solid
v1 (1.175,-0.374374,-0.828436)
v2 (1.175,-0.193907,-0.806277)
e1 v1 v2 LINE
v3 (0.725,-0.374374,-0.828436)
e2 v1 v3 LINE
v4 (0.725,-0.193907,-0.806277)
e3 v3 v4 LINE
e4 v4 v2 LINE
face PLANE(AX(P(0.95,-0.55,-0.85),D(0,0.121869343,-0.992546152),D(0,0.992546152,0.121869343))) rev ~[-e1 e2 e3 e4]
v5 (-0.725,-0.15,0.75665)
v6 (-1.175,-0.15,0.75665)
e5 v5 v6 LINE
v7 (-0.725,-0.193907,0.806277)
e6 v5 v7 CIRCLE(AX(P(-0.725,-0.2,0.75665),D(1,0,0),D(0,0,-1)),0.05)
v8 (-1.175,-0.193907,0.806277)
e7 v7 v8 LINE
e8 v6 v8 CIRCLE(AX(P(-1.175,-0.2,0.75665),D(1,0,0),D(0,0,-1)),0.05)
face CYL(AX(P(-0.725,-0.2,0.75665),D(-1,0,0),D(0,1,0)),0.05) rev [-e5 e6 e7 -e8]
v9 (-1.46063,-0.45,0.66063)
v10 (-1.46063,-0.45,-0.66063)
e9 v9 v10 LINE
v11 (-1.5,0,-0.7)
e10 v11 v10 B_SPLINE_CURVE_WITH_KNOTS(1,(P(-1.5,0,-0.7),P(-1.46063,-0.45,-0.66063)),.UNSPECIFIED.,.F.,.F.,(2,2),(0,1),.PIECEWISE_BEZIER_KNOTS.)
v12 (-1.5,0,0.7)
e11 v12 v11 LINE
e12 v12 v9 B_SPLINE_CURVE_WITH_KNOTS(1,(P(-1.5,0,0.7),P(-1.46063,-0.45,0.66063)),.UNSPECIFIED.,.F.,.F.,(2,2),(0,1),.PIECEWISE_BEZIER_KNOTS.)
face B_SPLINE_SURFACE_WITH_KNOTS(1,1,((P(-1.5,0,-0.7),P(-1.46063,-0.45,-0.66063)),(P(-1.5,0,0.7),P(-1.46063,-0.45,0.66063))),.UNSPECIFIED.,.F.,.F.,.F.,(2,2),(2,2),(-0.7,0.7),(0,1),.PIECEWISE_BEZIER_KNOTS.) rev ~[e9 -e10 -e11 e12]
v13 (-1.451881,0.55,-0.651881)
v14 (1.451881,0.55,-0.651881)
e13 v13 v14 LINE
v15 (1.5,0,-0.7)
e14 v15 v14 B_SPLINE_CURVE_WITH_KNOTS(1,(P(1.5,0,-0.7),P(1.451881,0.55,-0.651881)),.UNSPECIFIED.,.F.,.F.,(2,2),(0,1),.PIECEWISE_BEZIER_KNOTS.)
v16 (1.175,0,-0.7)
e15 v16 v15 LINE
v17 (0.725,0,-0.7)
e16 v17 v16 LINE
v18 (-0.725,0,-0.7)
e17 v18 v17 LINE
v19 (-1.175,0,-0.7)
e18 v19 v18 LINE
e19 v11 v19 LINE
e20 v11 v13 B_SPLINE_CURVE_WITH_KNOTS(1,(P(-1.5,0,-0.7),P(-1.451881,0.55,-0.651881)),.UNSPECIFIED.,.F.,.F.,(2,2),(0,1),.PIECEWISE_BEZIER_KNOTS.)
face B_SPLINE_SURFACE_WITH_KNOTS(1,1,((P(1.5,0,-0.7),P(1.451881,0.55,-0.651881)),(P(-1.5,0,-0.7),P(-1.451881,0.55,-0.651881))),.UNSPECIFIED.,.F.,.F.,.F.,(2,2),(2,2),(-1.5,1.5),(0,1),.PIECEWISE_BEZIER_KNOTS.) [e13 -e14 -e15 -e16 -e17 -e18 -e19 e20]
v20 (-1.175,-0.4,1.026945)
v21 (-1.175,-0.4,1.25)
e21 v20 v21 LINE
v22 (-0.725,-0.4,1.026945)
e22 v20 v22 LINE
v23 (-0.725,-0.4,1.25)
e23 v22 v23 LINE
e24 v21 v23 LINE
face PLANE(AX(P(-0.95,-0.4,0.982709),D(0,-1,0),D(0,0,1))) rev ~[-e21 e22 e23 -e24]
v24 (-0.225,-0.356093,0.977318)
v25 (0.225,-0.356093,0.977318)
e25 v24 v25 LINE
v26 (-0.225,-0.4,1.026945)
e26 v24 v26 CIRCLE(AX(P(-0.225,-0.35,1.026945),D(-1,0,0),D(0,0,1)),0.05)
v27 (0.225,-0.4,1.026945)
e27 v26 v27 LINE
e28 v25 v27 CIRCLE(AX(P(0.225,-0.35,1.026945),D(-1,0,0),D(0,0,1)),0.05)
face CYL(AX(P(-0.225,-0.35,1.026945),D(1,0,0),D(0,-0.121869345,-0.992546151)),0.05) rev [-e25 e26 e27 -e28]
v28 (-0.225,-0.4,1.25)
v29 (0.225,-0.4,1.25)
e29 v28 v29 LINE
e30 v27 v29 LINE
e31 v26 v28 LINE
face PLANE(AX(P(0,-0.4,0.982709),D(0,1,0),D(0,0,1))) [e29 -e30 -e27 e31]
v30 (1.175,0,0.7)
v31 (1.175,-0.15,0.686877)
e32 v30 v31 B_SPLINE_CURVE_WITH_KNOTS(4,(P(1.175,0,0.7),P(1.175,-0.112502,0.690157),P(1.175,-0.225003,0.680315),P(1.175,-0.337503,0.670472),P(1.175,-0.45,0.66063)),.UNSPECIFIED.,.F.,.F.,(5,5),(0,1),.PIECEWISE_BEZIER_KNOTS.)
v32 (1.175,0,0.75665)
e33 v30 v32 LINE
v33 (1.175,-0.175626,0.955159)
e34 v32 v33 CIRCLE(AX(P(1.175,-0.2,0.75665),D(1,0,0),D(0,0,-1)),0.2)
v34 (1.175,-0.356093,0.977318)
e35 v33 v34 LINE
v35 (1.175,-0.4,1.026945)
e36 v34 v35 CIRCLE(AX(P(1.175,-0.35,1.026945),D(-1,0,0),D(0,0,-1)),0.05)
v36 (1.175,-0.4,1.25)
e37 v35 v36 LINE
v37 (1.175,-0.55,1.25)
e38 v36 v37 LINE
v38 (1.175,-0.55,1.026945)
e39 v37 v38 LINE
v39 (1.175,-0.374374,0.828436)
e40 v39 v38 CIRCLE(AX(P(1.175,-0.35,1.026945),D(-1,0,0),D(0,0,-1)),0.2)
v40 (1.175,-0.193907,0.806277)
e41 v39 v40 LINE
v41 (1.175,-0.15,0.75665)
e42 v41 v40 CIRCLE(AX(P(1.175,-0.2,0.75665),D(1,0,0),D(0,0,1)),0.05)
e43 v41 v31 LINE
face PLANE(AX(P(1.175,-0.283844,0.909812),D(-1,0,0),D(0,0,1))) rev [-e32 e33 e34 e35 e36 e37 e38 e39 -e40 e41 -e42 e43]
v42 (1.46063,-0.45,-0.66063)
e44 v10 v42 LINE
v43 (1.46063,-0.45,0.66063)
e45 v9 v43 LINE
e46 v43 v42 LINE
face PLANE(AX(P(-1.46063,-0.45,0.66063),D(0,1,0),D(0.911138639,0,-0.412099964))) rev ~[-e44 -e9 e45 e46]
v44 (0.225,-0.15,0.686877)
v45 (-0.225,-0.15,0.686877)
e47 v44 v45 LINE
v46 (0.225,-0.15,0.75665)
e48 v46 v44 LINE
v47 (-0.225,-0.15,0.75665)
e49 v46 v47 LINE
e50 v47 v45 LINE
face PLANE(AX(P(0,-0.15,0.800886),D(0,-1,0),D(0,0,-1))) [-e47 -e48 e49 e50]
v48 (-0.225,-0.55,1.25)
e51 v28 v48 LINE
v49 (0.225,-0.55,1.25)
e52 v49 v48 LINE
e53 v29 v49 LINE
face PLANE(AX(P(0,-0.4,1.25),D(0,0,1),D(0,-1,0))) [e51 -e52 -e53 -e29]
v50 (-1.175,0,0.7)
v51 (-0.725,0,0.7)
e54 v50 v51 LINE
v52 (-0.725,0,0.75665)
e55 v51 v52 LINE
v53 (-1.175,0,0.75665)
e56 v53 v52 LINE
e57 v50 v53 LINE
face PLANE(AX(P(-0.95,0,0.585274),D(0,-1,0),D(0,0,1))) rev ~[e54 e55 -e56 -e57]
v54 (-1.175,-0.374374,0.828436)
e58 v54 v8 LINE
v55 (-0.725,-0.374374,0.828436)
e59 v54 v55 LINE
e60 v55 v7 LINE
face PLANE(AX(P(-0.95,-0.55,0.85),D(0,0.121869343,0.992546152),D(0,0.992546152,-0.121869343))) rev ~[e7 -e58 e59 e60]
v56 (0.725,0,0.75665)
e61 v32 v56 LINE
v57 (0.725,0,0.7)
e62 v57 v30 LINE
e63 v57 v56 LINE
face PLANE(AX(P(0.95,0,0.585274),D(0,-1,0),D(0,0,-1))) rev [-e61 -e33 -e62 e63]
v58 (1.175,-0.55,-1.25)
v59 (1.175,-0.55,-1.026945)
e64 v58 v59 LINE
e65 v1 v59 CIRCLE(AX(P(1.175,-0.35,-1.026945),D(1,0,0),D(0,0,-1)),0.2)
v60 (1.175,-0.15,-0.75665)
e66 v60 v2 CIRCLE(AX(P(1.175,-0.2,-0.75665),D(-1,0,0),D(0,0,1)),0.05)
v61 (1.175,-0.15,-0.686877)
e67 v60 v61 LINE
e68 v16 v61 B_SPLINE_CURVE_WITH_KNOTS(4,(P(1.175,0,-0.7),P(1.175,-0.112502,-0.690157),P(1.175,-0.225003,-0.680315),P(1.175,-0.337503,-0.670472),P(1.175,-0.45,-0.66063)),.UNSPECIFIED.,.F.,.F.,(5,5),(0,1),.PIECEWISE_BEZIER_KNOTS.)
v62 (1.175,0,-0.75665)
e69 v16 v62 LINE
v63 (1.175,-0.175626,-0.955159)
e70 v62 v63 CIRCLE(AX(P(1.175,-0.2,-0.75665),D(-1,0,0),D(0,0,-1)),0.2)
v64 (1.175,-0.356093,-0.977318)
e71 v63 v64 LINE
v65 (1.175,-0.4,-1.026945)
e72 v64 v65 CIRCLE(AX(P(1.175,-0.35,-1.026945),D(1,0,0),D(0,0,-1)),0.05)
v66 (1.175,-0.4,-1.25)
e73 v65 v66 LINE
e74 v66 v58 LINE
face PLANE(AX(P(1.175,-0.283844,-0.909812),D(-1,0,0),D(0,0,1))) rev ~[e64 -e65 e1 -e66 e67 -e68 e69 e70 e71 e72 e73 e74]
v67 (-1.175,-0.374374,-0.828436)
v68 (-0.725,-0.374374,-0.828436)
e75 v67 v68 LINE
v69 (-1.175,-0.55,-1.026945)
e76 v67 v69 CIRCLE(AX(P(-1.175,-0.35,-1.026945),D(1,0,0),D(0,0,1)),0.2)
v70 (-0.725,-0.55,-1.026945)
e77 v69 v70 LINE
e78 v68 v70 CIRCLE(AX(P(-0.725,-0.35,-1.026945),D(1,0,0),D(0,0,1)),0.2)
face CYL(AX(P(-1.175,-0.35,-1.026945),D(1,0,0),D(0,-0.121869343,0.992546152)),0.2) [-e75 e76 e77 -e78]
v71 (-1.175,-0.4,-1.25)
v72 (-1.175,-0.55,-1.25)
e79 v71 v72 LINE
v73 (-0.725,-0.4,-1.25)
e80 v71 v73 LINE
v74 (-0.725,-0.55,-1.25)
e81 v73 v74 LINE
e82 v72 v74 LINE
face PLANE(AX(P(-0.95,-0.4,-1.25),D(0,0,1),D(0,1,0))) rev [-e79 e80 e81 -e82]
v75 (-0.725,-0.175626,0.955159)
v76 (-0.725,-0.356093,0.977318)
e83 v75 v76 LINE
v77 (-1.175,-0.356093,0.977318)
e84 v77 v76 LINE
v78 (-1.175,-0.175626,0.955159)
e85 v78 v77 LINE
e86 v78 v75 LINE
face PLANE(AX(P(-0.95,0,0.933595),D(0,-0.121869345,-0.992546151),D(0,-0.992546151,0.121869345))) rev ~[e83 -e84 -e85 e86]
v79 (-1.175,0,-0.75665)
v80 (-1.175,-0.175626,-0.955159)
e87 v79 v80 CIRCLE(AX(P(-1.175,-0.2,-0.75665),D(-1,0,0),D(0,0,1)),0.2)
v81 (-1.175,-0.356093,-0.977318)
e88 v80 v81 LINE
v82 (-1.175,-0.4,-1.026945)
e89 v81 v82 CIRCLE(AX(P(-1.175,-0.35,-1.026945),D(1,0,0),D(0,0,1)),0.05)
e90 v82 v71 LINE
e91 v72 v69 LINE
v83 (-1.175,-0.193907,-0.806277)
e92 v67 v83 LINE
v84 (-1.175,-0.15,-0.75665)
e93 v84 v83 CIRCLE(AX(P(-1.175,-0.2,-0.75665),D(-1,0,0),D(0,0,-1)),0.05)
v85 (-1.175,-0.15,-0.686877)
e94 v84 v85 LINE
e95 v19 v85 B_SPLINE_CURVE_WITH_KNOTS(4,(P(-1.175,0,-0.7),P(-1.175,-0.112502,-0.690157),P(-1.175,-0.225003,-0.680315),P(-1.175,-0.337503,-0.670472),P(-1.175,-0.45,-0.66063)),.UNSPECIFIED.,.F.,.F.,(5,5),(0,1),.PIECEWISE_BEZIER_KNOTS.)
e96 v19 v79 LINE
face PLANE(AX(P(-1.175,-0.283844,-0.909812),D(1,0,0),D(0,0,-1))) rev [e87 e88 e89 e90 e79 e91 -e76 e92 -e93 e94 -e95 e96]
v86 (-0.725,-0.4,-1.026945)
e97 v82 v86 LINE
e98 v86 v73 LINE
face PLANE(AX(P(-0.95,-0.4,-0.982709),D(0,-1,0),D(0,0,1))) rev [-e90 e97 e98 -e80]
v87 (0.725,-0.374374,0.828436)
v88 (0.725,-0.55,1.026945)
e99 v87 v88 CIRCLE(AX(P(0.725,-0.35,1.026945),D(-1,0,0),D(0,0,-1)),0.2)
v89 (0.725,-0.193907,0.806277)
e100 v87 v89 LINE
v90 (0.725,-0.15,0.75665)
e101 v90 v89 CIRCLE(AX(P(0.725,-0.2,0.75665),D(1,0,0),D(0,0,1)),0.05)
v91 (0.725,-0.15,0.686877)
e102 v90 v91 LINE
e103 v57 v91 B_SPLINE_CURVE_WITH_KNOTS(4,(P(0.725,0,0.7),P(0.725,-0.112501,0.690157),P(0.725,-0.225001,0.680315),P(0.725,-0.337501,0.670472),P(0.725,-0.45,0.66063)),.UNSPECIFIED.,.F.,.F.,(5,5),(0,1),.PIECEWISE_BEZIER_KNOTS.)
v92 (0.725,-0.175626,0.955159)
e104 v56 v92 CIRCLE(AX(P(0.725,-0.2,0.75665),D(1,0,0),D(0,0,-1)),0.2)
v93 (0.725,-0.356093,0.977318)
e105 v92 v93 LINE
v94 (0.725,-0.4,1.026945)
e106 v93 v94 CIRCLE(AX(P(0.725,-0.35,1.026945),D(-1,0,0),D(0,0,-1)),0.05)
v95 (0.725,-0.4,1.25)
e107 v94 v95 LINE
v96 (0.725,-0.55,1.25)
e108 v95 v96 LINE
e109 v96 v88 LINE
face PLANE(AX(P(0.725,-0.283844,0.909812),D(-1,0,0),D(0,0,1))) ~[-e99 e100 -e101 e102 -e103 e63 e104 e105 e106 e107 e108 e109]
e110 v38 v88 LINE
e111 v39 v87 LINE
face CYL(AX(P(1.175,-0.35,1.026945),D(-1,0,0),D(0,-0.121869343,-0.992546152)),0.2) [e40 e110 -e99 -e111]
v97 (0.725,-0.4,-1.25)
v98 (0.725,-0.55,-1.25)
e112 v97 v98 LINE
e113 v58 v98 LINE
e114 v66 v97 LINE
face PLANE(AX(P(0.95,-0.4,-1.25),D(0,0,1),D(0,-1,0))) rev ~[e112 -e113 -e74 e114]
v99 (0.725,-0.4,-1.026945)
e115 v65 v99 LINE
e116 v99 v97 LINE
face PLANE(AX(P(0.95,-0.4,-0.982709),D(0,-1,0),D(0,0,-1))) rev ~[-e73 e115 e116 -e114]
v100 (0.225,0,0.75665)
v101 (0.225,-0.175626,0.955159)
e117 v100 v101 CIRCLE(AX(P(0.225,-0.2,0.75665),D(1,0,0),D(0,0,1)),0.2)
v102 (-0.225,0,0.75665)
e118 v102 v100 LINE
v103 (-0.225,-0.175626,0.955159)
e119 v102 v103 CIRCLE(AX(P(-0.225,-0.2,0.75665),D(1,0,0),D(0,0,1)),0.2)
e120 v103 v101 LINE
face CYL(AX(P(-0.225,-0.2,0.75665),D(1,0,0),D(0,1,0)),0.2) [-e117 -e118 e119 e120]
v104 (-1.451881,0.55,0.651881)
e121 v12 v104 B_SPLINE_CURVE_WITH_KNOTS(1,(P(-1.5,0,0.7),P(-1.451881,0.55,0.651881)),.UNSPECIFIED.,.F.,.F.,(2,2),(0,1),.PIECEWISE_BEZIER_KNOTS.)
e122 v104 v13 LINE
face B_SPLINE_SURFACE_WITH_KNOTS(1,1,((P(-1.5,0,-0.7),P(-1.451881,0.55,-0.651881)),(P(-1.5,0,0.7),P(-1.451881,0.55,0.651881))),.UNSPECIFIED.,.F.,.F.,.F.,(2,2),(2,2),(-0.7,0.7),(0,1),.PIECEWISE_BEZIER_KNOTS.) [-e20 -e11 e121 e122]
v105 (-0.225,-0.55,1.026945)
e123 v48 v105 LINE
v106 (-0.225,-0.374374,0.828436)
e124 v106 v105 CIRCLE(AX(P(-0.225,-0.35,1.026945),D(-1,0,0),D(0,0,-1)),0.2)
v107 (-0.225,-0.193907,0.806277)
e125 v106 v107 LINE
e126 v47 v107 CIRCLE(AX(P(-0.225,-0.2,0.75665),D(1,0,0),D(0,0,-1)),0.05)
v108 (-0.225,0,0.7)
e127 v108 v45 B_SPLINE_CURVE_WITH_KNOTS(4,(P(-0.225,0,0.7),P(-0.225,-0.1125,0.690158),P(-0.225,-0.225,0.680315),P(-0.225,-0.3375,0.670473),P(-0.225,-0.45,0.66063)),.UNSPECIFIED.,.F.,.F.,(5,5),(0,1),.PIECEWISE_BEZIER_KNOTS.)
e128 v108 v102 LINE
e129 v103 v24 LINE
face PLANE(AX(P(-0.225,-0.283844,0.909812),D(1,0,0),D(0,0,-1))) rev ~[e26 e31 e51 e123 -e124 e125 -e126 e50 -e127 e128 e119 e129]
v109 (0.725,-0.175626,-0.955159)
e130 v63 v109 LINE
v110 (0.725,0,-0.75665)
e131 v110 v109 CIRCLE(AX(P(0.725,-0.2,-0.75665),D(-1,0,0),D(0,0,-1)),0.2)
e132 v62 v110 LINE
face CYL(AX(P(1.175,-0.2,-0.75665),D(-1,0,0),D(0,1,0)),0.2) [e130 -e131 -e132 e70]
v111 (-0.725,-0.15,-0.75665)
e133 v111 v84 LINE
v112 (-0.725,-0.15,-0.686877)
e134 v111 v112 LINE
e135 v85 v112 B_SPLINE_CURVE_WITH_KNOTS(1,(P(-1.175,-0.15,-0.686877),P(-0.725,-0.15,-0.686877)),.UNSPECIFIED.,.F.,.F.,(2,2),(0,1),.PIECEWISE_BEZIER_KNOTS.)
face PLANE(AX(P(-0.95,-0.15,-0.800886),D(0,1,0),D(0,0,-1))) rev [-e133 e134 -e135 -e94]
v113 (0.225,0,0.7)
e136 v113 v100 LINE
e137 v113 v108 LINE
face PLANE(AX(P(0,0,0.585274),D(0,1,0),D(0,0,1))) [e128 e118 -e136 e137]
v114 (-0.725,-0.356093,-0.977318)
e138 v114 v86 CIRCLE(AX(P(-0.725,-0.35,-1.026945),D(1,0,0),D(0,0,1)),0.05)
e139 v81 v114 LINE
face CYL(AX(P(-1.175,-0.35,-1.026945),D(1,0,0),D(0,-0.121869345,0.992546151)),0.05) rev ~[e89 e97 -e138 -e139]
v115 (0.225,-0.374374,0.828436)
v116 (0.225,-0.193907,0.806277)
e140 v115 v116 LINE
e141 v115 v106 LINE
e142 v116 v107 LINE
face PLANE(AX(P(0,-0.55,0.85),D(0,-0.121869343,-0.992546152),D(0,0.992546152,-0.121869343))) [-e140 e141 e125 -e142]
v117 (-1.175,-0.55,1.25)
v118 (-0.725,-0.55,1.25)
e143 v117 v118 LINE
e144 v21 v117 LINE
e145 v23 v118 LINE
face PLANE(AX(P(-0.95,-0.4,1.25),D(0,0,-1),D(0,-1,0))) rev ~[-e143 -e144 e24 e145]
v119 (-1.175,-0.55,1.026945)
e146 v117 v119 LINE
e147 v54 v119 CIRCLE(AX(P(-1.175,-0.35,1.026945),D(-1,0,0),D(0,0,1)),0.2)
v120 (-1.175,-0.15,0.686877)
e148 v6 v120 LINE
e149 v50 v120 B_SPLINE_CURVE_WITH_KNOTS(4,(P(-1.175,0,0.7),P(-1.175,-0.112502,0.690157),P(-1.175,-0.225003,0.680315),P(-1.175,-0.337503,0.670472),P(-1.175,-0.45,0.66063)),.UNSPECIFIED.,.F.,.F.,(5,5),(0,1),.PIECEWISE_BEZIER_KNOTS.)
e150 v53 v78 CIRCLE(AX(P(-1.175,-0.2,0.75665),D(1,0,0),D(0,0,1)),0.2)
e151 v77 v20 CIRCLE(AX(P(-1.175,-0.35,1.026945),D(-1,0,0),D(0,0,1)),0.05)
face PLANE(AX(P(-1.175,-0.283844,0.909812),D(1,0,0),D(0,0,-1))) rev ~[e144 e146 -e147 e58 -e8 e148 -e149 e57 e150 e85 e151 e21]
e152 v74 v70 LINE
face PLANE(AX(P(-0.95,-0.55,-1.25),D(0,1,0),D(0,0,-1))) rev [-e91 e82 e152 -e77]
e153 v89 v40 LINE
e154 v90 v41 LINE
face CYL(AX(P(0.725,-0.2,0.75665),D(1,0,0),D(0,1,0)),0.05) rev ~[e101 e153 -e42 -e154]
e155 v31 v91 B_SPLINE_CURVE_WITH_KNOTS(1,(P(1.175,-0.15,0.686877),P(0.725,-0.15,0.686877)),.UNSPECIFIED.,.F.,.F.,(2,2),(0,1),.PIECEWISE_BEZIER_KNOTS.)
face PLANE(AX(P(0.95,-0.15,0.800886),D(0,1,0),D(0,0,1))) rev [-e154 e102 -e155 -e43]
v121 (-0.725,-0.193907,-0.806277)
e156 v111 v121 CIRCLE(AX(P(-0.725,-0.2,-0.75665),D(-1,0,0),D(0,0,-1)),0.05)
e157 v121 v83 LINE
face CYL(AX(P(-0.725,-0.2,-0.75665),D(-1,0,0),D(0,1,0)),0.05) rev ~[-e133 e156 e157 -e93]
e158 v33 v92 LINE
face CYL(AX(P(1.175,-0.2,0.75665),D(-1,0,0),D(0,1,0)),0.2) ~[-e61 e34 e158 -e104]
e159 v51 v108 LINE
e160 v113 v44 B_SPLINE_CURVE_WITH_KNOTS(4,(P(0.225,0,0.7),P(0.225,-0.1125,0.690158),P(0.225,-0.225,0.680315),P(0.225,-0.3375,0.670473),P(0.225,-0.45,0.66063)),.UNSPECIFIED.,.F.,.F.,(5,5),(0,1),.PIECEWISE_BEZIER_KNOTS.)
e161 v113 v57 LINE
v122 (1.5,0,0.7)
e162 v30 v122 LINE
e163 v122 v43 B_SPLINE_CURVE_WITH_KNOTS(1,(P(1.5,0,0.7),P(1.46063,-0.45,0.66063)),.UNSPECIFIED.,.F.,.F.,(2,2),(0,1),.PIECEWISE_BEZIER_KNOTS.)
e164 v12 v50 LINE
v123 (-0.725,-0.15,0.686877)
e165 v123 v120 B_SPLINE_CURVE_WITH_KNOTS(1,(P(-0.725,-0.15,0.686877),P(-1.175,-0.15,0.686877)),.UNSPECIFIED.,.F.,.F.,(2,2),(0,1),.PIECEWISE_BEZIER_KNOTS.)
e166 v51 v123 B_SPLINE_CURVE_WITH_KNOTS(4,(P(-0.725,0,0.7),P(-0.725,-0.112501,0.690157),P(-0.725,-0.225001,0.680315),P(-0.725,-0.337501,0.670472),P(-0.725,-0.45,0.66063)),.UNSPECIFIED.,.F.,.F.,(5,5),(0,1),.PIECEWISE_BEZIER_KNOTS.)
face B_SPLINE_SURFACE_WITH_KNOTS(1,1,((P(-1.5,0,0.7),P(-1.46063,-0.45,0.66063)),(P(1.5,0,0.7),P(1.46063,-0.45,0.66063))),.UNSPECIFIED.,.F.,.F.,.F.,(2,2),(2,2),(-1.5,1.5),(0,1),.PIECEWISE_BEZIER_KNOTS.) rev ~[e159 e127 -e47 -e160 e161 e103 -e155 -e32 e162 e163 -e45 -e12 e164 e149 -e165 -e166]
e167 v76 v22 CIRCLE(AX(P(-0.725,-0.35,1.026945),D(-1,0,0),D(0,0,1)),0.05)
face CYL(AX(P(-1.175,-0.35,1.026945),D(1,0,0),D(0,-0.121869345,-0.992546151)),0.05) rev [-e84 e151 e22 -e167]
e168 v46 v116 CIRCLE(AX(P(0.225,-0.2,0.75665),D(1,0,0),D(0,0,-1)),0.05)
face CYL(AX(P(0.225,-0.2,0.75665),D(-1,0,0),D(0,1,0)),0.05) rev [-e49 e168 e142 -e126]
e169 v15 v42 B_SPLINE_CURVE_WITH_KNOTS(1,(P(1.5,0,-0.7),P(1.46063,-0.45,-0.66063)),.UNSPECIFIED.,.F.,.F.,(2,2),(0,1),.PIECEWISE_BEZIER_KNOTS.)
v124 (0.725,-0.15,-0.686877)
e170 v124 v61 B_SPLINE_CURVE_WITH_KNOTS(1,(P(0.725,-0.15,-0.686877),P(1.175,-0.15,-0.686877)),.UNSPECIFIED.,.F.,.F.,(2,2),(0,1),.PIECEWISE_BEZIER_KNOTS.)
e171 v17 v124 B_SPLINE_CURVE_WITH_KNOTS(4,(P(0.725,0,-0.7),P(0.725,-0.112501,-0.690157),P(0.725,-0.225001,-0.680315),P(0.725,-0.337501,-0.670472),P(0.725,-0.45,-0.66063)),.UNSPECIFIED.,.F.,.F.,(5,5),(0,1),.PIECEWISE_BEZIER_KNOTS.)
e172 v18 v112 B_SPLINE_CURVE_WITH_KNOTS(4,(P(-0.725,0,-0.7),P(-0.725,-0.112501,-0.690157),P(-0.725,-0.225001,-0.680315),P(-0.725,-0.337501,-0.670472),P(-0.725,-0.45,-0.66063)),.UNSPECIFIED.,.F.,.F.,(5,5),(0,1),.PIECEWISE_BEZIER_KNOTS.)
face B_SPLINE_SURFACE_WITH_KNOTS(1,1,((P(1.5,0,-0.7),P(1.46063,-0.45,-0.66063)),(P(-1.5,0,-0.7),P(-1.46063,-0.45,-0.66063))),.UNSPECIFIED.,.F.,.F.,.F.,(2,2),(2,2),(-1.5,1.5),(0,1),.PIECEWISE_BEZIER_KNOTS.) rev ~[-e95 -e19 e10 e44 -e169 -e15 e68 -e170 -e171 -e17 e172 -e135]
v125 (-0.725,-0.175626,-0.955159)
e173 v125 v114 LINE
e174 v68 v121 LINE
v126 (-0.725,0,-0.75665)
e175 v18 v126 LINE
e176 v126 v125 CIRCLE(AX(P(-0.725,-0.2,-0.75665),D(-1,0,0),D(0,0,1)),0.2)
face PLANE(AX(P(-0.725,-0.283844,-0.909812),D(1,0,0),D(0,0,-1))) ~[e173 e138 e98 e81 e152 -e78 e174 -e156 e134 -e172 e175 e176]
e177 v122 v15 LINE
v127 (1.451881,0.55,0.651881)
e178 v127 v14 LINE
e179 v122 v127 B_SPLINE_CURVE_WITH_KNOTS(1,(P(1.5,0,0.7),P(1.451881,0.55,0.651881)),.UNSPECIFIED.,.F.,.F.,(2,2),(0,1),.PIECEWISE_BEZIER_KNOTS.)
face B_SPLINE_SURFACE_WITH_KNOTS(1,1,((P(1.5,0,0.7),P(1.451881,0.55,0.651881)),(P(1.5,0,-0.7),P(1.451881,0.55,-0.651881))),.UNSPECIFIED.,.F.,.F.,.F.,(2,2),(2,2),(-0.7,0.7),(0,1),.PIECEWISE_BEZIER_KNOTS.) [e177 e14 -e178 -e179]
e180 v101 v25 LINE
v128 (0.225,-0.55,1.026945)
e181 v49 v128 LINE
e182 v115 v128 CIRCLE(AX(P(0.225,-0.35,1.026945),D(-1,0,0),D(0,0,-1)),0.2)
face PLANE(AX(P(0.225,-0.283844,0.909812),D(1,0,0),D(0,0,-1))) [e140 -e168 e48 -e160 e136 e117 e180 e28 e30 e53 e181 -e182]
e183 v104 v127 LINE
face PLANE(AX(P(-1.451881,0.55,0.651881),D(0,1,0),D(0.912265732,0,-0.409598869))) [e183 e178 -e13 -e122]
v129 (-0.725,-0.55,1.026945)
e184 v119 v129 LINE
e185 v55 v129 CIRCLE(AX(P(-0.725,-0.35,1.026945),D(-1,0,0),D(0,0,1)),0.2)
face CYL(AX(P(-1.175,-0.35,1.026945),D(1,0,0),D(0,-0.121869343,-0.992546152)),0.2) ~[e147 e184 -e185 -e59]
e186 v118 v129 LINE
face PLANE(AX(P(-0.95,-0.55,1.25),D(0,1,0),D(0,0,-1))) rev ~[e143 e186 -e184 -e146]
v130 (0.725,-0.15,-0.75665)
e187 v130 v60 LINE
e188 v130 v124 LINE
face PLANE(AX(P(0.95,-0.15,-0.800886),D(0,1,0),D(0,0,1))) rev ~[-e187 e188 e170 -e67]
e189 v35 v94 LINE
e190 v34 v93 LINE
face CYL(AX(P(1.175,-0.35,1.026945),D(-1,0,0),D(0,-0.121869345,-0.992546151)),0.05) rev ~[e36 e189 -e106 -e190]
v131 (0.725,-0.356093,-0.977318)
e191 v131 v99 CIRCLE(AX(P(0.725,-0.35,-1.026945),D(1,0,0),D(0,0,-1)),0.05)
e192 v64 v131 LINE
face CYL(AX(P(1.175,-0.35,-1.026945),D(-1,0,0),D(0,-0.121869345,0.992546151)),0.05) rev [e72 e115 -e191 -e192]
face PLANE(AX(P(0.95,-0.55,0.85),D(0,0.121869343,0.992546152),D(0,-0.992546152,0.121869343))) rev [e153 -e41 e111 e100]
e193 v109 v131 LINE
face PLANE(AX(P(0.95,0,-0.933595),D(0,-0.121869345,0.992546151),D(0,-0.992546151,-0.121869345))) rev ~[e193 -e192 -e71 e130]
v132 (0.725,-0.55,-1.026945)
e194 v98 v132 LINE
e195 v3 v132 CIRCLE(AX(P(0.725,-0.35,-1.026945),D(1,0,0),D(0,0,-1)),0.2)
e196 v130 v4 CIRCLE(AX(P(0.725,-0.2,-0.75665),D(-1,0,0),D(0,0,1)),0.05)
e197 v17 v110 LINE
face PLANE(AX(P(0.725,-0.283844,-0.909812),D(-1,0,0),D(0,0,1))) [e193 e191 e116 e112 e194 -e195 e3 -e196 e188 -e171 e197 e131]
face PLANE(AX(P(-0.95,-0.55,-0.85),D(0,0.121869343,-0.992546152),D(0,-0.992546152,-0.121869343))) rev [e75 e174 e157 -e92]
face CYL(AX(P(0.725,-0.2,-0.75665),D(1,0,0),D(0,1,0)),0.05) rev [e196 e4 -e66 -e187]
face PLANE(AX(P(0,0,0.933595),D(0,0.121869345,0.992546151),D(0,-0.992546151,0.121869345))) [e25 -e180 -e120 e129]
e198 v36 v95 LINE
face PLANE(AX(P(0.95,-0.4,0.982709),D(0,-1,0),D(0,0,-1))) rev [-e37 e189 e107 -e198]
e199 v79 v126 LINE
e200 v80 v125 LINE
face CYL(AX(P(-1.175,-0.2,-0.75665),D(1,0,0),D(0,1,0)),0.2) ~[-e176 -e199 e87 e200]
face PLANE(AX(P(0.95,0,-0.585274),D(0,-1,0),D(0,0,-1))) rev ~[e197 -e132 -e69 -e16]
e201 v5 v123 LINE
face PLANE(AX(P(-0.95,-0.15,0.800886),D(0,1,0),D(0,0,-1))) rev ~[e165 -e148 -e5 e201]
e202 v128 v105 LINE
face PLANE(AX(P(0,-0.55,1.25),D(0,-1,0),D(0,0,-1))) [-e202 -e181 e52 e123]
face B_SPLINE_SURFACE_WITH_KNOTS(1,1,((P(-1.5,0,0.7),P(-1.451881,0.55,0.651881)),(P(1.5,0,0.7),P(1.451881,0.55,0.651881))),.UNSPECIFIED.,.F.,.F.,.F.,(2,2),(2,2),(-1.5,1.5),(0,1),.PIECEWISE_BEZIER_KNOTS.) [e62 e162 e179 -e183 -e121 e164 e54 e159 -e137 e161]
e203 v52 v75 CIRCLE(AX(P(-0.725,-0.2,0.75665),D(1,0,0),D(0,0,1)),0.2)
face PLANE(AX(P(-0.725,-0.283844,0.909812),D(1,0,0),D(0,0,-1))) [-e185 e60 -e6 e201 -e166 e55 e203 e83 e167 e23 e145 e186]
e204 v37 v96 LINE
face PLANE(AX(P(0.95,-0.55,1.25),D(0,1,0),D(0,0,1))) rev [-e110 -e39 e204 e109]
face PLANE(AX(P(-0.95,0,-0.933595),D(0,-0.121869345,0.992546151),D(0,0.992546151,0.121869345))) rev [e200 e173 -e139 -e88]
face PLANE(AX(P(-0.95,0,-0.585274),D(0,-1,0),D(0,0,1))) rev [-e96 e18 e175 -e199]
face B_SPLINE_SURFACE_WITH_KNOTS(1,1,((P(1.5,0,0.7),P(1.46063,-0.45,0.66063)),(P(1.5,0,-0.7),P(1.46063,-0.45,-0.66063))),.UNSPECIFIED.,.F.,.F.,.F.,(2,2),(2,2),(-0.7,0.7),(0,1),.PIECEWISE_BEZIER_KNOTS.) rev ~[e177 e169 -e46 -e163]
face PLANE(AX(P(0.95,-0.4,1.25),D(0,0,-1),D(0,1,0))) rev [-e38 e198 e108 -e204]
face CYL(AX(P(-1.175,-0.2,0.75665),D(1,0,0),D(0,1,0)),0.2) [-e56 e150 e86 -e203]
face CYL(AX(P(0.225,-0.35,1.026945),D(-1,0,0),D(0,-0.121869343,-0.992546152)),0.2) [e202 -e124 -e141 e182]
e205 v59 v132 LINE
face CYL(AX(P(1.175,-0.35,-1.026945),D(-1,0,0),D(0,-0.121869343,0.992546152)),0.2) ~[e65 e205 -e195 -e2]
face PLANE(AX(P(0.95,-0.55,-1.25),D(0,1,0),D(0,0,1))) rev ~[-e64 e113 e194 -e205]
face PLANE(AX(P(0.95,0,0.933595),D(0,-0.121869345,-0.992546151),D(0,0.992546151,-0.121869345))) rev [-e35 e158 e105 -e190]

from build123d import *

# Parameters (mm, degrees)
SKETCH1_W                = 3
SKETCH1_H                = 1.4
EXTRUDE1_DEPTH           = 0.55
EXTRUDE1_TAPER           = 5
EXTRUDE1_OTHER_WAY_DEPTH = 0.45
EXTRUDE1_OTHER_WAY_TAPER = 5
EXTRUDE2_DEPTH           = 0.225
EXTRUDE2_DEPTH_BACK      = 0.225
EXTRUDE3_START           = 0.95
EXTRUDE3_DEPTH           = 0.225
MIRROR_START             = 0.95
MIRROR_1_COPY_1_DEPTH    = 0.225
FILLET1_R                = 0.05
FILLET2_R                = 0.2


with BuildPart() as part:
    # Sketch1 → Extrude1 (new body)
    with BuildSketch(Plane(origin=(0, 0, 0), x_dir=(1, 0, 0), z_dir=(0, 1, 0))):
        Rectangle(SKETCH1_W, SKETCH1_H)
    extrude(amount=EXTRUDE1_DEPTH, taper=EXTRUDE1_TAPER)

    # Sketch1 → Extrude1 other way (add)
    with BuildSketch(Plane(origin=(0, 0, 0), x_dir=(1, 0, 0), z_dir=(0, 1, 0))):
        Rectangle(SKETCH1_W, SKETCH1_H)
    extrude(amount=-EXTRUDE1_OTHER_WAY_DEPTH, taper=EXTRUDE1_OTHER_WAY_TAPER)

    # Sketch2 → Extrude2 (add, two sides)
    with BuildSketch(Plane(origin=(0, 0, 0), x_dir=(0, 0, -1), z_dir=(1, 0, 0))) as extrude2_sk:
        Polygon((-0.585273808, 0), (-0.933594965, 0), (-0.98270879, -0.4), (-1.25, -0.4), (-1.25, -0.55), (-0.85, -0.55), (-0.800886176, -0.15), (-0.585273808, -0.15), align=None)
    extrude(amount=EXTRUDE2_DEPTH)
    extrude(extrude2_sk.sketch, amount=-EXTRUDE2_DEPTH_BACK)

    # Sketch2_3 → Extrude3 (add, symmetric)
    with BuildSketch(Plane(origin=(0, 0, 0), x_dir=(0, 0, -1), z_dir=(1, 0, 0)).offset(EXTRUDE3_START)):
        Polygon((0.585273808, 0), (0.933594965, 0), (0.98270879, -0.4), (1.25, -0.4), (1.25, -0.55), (0.85, -0.55), (0.800886176, -0.15), (0.585273808, -0.15), align=None)
    extrude3 = extrude(amount=EXTRUDE3_DEPTH, both=True)

    # Mirror1: Extrude3 across plane
    add(extrude3.mirror(Plane(origin=(0, 0, 0), x_dir=(0, 0, 1), z_dir=(1, 0, 0))))

    # Mirror 1: Extrude3 across plane
    add(extrude3.mirror(Plane.XY))

    # Mirror 1 copy 1 sketch → Mirror 1 copy 1 (add, symmetric)
    with BuildSketch(Plane.ZY.offset(MIRROR_START)):
        Polygon((0.585273808, 0), (0.933594965, 0), (0.98270879, -0.4), (1.25, -0.4), (1.25, -0.55), (0.85, -0.55), (0.800886176, -0.15), (0.585273808, -0.15), align=None)
    extrude(amount=MIRROR_1_COPY_1_DEPTH, both=True)

    # Fillet1
    fillet1_edges = [part.edges().sort_by_distance(p)[0] for p in [
        (0.95, -0.4, 0.98270879),
        (0.95, -0.15, 0.800886176),
        (-0.95, -0.15, 0.800886176),
        (-0.95, -0.4, 0.98270879),
        (0, -0.4, 0.98270879),
        (0, -0.15, 0.800886176),
        (0.95, -0.15, -0.800886176),
        (0.95, -0.4, -0.98270879),
        (-0.95, -0.4, -0.98270879),
        (-0.95, -0.15, -0.800886176),
    ]]
    fillet(fillet1_edges, radius=FILLET1_R)

    # Fillet2
    fillet2_edges = [part.edges().sort_by_distance(p)[0] for p in [
        (0.95, 0, 0.933594965),
        (0.95, -0.55, 0.85),
        (-0.95, 0, 0.933594965),
        (-0.95, -0.55, 0.85),
        (0, 0, 0.933594965),
        (0, -0.55, 0.85),
        (0.95, 0, -0.933594965),
        (0.95, -0.55, -0.85),
        (-0.95, 0, -0.933594965),
        (-0.95, -0.55, -0.85),
    ]]
    fillet(fillet2_edges, radius=FILLET2_R)


solid = part.part
